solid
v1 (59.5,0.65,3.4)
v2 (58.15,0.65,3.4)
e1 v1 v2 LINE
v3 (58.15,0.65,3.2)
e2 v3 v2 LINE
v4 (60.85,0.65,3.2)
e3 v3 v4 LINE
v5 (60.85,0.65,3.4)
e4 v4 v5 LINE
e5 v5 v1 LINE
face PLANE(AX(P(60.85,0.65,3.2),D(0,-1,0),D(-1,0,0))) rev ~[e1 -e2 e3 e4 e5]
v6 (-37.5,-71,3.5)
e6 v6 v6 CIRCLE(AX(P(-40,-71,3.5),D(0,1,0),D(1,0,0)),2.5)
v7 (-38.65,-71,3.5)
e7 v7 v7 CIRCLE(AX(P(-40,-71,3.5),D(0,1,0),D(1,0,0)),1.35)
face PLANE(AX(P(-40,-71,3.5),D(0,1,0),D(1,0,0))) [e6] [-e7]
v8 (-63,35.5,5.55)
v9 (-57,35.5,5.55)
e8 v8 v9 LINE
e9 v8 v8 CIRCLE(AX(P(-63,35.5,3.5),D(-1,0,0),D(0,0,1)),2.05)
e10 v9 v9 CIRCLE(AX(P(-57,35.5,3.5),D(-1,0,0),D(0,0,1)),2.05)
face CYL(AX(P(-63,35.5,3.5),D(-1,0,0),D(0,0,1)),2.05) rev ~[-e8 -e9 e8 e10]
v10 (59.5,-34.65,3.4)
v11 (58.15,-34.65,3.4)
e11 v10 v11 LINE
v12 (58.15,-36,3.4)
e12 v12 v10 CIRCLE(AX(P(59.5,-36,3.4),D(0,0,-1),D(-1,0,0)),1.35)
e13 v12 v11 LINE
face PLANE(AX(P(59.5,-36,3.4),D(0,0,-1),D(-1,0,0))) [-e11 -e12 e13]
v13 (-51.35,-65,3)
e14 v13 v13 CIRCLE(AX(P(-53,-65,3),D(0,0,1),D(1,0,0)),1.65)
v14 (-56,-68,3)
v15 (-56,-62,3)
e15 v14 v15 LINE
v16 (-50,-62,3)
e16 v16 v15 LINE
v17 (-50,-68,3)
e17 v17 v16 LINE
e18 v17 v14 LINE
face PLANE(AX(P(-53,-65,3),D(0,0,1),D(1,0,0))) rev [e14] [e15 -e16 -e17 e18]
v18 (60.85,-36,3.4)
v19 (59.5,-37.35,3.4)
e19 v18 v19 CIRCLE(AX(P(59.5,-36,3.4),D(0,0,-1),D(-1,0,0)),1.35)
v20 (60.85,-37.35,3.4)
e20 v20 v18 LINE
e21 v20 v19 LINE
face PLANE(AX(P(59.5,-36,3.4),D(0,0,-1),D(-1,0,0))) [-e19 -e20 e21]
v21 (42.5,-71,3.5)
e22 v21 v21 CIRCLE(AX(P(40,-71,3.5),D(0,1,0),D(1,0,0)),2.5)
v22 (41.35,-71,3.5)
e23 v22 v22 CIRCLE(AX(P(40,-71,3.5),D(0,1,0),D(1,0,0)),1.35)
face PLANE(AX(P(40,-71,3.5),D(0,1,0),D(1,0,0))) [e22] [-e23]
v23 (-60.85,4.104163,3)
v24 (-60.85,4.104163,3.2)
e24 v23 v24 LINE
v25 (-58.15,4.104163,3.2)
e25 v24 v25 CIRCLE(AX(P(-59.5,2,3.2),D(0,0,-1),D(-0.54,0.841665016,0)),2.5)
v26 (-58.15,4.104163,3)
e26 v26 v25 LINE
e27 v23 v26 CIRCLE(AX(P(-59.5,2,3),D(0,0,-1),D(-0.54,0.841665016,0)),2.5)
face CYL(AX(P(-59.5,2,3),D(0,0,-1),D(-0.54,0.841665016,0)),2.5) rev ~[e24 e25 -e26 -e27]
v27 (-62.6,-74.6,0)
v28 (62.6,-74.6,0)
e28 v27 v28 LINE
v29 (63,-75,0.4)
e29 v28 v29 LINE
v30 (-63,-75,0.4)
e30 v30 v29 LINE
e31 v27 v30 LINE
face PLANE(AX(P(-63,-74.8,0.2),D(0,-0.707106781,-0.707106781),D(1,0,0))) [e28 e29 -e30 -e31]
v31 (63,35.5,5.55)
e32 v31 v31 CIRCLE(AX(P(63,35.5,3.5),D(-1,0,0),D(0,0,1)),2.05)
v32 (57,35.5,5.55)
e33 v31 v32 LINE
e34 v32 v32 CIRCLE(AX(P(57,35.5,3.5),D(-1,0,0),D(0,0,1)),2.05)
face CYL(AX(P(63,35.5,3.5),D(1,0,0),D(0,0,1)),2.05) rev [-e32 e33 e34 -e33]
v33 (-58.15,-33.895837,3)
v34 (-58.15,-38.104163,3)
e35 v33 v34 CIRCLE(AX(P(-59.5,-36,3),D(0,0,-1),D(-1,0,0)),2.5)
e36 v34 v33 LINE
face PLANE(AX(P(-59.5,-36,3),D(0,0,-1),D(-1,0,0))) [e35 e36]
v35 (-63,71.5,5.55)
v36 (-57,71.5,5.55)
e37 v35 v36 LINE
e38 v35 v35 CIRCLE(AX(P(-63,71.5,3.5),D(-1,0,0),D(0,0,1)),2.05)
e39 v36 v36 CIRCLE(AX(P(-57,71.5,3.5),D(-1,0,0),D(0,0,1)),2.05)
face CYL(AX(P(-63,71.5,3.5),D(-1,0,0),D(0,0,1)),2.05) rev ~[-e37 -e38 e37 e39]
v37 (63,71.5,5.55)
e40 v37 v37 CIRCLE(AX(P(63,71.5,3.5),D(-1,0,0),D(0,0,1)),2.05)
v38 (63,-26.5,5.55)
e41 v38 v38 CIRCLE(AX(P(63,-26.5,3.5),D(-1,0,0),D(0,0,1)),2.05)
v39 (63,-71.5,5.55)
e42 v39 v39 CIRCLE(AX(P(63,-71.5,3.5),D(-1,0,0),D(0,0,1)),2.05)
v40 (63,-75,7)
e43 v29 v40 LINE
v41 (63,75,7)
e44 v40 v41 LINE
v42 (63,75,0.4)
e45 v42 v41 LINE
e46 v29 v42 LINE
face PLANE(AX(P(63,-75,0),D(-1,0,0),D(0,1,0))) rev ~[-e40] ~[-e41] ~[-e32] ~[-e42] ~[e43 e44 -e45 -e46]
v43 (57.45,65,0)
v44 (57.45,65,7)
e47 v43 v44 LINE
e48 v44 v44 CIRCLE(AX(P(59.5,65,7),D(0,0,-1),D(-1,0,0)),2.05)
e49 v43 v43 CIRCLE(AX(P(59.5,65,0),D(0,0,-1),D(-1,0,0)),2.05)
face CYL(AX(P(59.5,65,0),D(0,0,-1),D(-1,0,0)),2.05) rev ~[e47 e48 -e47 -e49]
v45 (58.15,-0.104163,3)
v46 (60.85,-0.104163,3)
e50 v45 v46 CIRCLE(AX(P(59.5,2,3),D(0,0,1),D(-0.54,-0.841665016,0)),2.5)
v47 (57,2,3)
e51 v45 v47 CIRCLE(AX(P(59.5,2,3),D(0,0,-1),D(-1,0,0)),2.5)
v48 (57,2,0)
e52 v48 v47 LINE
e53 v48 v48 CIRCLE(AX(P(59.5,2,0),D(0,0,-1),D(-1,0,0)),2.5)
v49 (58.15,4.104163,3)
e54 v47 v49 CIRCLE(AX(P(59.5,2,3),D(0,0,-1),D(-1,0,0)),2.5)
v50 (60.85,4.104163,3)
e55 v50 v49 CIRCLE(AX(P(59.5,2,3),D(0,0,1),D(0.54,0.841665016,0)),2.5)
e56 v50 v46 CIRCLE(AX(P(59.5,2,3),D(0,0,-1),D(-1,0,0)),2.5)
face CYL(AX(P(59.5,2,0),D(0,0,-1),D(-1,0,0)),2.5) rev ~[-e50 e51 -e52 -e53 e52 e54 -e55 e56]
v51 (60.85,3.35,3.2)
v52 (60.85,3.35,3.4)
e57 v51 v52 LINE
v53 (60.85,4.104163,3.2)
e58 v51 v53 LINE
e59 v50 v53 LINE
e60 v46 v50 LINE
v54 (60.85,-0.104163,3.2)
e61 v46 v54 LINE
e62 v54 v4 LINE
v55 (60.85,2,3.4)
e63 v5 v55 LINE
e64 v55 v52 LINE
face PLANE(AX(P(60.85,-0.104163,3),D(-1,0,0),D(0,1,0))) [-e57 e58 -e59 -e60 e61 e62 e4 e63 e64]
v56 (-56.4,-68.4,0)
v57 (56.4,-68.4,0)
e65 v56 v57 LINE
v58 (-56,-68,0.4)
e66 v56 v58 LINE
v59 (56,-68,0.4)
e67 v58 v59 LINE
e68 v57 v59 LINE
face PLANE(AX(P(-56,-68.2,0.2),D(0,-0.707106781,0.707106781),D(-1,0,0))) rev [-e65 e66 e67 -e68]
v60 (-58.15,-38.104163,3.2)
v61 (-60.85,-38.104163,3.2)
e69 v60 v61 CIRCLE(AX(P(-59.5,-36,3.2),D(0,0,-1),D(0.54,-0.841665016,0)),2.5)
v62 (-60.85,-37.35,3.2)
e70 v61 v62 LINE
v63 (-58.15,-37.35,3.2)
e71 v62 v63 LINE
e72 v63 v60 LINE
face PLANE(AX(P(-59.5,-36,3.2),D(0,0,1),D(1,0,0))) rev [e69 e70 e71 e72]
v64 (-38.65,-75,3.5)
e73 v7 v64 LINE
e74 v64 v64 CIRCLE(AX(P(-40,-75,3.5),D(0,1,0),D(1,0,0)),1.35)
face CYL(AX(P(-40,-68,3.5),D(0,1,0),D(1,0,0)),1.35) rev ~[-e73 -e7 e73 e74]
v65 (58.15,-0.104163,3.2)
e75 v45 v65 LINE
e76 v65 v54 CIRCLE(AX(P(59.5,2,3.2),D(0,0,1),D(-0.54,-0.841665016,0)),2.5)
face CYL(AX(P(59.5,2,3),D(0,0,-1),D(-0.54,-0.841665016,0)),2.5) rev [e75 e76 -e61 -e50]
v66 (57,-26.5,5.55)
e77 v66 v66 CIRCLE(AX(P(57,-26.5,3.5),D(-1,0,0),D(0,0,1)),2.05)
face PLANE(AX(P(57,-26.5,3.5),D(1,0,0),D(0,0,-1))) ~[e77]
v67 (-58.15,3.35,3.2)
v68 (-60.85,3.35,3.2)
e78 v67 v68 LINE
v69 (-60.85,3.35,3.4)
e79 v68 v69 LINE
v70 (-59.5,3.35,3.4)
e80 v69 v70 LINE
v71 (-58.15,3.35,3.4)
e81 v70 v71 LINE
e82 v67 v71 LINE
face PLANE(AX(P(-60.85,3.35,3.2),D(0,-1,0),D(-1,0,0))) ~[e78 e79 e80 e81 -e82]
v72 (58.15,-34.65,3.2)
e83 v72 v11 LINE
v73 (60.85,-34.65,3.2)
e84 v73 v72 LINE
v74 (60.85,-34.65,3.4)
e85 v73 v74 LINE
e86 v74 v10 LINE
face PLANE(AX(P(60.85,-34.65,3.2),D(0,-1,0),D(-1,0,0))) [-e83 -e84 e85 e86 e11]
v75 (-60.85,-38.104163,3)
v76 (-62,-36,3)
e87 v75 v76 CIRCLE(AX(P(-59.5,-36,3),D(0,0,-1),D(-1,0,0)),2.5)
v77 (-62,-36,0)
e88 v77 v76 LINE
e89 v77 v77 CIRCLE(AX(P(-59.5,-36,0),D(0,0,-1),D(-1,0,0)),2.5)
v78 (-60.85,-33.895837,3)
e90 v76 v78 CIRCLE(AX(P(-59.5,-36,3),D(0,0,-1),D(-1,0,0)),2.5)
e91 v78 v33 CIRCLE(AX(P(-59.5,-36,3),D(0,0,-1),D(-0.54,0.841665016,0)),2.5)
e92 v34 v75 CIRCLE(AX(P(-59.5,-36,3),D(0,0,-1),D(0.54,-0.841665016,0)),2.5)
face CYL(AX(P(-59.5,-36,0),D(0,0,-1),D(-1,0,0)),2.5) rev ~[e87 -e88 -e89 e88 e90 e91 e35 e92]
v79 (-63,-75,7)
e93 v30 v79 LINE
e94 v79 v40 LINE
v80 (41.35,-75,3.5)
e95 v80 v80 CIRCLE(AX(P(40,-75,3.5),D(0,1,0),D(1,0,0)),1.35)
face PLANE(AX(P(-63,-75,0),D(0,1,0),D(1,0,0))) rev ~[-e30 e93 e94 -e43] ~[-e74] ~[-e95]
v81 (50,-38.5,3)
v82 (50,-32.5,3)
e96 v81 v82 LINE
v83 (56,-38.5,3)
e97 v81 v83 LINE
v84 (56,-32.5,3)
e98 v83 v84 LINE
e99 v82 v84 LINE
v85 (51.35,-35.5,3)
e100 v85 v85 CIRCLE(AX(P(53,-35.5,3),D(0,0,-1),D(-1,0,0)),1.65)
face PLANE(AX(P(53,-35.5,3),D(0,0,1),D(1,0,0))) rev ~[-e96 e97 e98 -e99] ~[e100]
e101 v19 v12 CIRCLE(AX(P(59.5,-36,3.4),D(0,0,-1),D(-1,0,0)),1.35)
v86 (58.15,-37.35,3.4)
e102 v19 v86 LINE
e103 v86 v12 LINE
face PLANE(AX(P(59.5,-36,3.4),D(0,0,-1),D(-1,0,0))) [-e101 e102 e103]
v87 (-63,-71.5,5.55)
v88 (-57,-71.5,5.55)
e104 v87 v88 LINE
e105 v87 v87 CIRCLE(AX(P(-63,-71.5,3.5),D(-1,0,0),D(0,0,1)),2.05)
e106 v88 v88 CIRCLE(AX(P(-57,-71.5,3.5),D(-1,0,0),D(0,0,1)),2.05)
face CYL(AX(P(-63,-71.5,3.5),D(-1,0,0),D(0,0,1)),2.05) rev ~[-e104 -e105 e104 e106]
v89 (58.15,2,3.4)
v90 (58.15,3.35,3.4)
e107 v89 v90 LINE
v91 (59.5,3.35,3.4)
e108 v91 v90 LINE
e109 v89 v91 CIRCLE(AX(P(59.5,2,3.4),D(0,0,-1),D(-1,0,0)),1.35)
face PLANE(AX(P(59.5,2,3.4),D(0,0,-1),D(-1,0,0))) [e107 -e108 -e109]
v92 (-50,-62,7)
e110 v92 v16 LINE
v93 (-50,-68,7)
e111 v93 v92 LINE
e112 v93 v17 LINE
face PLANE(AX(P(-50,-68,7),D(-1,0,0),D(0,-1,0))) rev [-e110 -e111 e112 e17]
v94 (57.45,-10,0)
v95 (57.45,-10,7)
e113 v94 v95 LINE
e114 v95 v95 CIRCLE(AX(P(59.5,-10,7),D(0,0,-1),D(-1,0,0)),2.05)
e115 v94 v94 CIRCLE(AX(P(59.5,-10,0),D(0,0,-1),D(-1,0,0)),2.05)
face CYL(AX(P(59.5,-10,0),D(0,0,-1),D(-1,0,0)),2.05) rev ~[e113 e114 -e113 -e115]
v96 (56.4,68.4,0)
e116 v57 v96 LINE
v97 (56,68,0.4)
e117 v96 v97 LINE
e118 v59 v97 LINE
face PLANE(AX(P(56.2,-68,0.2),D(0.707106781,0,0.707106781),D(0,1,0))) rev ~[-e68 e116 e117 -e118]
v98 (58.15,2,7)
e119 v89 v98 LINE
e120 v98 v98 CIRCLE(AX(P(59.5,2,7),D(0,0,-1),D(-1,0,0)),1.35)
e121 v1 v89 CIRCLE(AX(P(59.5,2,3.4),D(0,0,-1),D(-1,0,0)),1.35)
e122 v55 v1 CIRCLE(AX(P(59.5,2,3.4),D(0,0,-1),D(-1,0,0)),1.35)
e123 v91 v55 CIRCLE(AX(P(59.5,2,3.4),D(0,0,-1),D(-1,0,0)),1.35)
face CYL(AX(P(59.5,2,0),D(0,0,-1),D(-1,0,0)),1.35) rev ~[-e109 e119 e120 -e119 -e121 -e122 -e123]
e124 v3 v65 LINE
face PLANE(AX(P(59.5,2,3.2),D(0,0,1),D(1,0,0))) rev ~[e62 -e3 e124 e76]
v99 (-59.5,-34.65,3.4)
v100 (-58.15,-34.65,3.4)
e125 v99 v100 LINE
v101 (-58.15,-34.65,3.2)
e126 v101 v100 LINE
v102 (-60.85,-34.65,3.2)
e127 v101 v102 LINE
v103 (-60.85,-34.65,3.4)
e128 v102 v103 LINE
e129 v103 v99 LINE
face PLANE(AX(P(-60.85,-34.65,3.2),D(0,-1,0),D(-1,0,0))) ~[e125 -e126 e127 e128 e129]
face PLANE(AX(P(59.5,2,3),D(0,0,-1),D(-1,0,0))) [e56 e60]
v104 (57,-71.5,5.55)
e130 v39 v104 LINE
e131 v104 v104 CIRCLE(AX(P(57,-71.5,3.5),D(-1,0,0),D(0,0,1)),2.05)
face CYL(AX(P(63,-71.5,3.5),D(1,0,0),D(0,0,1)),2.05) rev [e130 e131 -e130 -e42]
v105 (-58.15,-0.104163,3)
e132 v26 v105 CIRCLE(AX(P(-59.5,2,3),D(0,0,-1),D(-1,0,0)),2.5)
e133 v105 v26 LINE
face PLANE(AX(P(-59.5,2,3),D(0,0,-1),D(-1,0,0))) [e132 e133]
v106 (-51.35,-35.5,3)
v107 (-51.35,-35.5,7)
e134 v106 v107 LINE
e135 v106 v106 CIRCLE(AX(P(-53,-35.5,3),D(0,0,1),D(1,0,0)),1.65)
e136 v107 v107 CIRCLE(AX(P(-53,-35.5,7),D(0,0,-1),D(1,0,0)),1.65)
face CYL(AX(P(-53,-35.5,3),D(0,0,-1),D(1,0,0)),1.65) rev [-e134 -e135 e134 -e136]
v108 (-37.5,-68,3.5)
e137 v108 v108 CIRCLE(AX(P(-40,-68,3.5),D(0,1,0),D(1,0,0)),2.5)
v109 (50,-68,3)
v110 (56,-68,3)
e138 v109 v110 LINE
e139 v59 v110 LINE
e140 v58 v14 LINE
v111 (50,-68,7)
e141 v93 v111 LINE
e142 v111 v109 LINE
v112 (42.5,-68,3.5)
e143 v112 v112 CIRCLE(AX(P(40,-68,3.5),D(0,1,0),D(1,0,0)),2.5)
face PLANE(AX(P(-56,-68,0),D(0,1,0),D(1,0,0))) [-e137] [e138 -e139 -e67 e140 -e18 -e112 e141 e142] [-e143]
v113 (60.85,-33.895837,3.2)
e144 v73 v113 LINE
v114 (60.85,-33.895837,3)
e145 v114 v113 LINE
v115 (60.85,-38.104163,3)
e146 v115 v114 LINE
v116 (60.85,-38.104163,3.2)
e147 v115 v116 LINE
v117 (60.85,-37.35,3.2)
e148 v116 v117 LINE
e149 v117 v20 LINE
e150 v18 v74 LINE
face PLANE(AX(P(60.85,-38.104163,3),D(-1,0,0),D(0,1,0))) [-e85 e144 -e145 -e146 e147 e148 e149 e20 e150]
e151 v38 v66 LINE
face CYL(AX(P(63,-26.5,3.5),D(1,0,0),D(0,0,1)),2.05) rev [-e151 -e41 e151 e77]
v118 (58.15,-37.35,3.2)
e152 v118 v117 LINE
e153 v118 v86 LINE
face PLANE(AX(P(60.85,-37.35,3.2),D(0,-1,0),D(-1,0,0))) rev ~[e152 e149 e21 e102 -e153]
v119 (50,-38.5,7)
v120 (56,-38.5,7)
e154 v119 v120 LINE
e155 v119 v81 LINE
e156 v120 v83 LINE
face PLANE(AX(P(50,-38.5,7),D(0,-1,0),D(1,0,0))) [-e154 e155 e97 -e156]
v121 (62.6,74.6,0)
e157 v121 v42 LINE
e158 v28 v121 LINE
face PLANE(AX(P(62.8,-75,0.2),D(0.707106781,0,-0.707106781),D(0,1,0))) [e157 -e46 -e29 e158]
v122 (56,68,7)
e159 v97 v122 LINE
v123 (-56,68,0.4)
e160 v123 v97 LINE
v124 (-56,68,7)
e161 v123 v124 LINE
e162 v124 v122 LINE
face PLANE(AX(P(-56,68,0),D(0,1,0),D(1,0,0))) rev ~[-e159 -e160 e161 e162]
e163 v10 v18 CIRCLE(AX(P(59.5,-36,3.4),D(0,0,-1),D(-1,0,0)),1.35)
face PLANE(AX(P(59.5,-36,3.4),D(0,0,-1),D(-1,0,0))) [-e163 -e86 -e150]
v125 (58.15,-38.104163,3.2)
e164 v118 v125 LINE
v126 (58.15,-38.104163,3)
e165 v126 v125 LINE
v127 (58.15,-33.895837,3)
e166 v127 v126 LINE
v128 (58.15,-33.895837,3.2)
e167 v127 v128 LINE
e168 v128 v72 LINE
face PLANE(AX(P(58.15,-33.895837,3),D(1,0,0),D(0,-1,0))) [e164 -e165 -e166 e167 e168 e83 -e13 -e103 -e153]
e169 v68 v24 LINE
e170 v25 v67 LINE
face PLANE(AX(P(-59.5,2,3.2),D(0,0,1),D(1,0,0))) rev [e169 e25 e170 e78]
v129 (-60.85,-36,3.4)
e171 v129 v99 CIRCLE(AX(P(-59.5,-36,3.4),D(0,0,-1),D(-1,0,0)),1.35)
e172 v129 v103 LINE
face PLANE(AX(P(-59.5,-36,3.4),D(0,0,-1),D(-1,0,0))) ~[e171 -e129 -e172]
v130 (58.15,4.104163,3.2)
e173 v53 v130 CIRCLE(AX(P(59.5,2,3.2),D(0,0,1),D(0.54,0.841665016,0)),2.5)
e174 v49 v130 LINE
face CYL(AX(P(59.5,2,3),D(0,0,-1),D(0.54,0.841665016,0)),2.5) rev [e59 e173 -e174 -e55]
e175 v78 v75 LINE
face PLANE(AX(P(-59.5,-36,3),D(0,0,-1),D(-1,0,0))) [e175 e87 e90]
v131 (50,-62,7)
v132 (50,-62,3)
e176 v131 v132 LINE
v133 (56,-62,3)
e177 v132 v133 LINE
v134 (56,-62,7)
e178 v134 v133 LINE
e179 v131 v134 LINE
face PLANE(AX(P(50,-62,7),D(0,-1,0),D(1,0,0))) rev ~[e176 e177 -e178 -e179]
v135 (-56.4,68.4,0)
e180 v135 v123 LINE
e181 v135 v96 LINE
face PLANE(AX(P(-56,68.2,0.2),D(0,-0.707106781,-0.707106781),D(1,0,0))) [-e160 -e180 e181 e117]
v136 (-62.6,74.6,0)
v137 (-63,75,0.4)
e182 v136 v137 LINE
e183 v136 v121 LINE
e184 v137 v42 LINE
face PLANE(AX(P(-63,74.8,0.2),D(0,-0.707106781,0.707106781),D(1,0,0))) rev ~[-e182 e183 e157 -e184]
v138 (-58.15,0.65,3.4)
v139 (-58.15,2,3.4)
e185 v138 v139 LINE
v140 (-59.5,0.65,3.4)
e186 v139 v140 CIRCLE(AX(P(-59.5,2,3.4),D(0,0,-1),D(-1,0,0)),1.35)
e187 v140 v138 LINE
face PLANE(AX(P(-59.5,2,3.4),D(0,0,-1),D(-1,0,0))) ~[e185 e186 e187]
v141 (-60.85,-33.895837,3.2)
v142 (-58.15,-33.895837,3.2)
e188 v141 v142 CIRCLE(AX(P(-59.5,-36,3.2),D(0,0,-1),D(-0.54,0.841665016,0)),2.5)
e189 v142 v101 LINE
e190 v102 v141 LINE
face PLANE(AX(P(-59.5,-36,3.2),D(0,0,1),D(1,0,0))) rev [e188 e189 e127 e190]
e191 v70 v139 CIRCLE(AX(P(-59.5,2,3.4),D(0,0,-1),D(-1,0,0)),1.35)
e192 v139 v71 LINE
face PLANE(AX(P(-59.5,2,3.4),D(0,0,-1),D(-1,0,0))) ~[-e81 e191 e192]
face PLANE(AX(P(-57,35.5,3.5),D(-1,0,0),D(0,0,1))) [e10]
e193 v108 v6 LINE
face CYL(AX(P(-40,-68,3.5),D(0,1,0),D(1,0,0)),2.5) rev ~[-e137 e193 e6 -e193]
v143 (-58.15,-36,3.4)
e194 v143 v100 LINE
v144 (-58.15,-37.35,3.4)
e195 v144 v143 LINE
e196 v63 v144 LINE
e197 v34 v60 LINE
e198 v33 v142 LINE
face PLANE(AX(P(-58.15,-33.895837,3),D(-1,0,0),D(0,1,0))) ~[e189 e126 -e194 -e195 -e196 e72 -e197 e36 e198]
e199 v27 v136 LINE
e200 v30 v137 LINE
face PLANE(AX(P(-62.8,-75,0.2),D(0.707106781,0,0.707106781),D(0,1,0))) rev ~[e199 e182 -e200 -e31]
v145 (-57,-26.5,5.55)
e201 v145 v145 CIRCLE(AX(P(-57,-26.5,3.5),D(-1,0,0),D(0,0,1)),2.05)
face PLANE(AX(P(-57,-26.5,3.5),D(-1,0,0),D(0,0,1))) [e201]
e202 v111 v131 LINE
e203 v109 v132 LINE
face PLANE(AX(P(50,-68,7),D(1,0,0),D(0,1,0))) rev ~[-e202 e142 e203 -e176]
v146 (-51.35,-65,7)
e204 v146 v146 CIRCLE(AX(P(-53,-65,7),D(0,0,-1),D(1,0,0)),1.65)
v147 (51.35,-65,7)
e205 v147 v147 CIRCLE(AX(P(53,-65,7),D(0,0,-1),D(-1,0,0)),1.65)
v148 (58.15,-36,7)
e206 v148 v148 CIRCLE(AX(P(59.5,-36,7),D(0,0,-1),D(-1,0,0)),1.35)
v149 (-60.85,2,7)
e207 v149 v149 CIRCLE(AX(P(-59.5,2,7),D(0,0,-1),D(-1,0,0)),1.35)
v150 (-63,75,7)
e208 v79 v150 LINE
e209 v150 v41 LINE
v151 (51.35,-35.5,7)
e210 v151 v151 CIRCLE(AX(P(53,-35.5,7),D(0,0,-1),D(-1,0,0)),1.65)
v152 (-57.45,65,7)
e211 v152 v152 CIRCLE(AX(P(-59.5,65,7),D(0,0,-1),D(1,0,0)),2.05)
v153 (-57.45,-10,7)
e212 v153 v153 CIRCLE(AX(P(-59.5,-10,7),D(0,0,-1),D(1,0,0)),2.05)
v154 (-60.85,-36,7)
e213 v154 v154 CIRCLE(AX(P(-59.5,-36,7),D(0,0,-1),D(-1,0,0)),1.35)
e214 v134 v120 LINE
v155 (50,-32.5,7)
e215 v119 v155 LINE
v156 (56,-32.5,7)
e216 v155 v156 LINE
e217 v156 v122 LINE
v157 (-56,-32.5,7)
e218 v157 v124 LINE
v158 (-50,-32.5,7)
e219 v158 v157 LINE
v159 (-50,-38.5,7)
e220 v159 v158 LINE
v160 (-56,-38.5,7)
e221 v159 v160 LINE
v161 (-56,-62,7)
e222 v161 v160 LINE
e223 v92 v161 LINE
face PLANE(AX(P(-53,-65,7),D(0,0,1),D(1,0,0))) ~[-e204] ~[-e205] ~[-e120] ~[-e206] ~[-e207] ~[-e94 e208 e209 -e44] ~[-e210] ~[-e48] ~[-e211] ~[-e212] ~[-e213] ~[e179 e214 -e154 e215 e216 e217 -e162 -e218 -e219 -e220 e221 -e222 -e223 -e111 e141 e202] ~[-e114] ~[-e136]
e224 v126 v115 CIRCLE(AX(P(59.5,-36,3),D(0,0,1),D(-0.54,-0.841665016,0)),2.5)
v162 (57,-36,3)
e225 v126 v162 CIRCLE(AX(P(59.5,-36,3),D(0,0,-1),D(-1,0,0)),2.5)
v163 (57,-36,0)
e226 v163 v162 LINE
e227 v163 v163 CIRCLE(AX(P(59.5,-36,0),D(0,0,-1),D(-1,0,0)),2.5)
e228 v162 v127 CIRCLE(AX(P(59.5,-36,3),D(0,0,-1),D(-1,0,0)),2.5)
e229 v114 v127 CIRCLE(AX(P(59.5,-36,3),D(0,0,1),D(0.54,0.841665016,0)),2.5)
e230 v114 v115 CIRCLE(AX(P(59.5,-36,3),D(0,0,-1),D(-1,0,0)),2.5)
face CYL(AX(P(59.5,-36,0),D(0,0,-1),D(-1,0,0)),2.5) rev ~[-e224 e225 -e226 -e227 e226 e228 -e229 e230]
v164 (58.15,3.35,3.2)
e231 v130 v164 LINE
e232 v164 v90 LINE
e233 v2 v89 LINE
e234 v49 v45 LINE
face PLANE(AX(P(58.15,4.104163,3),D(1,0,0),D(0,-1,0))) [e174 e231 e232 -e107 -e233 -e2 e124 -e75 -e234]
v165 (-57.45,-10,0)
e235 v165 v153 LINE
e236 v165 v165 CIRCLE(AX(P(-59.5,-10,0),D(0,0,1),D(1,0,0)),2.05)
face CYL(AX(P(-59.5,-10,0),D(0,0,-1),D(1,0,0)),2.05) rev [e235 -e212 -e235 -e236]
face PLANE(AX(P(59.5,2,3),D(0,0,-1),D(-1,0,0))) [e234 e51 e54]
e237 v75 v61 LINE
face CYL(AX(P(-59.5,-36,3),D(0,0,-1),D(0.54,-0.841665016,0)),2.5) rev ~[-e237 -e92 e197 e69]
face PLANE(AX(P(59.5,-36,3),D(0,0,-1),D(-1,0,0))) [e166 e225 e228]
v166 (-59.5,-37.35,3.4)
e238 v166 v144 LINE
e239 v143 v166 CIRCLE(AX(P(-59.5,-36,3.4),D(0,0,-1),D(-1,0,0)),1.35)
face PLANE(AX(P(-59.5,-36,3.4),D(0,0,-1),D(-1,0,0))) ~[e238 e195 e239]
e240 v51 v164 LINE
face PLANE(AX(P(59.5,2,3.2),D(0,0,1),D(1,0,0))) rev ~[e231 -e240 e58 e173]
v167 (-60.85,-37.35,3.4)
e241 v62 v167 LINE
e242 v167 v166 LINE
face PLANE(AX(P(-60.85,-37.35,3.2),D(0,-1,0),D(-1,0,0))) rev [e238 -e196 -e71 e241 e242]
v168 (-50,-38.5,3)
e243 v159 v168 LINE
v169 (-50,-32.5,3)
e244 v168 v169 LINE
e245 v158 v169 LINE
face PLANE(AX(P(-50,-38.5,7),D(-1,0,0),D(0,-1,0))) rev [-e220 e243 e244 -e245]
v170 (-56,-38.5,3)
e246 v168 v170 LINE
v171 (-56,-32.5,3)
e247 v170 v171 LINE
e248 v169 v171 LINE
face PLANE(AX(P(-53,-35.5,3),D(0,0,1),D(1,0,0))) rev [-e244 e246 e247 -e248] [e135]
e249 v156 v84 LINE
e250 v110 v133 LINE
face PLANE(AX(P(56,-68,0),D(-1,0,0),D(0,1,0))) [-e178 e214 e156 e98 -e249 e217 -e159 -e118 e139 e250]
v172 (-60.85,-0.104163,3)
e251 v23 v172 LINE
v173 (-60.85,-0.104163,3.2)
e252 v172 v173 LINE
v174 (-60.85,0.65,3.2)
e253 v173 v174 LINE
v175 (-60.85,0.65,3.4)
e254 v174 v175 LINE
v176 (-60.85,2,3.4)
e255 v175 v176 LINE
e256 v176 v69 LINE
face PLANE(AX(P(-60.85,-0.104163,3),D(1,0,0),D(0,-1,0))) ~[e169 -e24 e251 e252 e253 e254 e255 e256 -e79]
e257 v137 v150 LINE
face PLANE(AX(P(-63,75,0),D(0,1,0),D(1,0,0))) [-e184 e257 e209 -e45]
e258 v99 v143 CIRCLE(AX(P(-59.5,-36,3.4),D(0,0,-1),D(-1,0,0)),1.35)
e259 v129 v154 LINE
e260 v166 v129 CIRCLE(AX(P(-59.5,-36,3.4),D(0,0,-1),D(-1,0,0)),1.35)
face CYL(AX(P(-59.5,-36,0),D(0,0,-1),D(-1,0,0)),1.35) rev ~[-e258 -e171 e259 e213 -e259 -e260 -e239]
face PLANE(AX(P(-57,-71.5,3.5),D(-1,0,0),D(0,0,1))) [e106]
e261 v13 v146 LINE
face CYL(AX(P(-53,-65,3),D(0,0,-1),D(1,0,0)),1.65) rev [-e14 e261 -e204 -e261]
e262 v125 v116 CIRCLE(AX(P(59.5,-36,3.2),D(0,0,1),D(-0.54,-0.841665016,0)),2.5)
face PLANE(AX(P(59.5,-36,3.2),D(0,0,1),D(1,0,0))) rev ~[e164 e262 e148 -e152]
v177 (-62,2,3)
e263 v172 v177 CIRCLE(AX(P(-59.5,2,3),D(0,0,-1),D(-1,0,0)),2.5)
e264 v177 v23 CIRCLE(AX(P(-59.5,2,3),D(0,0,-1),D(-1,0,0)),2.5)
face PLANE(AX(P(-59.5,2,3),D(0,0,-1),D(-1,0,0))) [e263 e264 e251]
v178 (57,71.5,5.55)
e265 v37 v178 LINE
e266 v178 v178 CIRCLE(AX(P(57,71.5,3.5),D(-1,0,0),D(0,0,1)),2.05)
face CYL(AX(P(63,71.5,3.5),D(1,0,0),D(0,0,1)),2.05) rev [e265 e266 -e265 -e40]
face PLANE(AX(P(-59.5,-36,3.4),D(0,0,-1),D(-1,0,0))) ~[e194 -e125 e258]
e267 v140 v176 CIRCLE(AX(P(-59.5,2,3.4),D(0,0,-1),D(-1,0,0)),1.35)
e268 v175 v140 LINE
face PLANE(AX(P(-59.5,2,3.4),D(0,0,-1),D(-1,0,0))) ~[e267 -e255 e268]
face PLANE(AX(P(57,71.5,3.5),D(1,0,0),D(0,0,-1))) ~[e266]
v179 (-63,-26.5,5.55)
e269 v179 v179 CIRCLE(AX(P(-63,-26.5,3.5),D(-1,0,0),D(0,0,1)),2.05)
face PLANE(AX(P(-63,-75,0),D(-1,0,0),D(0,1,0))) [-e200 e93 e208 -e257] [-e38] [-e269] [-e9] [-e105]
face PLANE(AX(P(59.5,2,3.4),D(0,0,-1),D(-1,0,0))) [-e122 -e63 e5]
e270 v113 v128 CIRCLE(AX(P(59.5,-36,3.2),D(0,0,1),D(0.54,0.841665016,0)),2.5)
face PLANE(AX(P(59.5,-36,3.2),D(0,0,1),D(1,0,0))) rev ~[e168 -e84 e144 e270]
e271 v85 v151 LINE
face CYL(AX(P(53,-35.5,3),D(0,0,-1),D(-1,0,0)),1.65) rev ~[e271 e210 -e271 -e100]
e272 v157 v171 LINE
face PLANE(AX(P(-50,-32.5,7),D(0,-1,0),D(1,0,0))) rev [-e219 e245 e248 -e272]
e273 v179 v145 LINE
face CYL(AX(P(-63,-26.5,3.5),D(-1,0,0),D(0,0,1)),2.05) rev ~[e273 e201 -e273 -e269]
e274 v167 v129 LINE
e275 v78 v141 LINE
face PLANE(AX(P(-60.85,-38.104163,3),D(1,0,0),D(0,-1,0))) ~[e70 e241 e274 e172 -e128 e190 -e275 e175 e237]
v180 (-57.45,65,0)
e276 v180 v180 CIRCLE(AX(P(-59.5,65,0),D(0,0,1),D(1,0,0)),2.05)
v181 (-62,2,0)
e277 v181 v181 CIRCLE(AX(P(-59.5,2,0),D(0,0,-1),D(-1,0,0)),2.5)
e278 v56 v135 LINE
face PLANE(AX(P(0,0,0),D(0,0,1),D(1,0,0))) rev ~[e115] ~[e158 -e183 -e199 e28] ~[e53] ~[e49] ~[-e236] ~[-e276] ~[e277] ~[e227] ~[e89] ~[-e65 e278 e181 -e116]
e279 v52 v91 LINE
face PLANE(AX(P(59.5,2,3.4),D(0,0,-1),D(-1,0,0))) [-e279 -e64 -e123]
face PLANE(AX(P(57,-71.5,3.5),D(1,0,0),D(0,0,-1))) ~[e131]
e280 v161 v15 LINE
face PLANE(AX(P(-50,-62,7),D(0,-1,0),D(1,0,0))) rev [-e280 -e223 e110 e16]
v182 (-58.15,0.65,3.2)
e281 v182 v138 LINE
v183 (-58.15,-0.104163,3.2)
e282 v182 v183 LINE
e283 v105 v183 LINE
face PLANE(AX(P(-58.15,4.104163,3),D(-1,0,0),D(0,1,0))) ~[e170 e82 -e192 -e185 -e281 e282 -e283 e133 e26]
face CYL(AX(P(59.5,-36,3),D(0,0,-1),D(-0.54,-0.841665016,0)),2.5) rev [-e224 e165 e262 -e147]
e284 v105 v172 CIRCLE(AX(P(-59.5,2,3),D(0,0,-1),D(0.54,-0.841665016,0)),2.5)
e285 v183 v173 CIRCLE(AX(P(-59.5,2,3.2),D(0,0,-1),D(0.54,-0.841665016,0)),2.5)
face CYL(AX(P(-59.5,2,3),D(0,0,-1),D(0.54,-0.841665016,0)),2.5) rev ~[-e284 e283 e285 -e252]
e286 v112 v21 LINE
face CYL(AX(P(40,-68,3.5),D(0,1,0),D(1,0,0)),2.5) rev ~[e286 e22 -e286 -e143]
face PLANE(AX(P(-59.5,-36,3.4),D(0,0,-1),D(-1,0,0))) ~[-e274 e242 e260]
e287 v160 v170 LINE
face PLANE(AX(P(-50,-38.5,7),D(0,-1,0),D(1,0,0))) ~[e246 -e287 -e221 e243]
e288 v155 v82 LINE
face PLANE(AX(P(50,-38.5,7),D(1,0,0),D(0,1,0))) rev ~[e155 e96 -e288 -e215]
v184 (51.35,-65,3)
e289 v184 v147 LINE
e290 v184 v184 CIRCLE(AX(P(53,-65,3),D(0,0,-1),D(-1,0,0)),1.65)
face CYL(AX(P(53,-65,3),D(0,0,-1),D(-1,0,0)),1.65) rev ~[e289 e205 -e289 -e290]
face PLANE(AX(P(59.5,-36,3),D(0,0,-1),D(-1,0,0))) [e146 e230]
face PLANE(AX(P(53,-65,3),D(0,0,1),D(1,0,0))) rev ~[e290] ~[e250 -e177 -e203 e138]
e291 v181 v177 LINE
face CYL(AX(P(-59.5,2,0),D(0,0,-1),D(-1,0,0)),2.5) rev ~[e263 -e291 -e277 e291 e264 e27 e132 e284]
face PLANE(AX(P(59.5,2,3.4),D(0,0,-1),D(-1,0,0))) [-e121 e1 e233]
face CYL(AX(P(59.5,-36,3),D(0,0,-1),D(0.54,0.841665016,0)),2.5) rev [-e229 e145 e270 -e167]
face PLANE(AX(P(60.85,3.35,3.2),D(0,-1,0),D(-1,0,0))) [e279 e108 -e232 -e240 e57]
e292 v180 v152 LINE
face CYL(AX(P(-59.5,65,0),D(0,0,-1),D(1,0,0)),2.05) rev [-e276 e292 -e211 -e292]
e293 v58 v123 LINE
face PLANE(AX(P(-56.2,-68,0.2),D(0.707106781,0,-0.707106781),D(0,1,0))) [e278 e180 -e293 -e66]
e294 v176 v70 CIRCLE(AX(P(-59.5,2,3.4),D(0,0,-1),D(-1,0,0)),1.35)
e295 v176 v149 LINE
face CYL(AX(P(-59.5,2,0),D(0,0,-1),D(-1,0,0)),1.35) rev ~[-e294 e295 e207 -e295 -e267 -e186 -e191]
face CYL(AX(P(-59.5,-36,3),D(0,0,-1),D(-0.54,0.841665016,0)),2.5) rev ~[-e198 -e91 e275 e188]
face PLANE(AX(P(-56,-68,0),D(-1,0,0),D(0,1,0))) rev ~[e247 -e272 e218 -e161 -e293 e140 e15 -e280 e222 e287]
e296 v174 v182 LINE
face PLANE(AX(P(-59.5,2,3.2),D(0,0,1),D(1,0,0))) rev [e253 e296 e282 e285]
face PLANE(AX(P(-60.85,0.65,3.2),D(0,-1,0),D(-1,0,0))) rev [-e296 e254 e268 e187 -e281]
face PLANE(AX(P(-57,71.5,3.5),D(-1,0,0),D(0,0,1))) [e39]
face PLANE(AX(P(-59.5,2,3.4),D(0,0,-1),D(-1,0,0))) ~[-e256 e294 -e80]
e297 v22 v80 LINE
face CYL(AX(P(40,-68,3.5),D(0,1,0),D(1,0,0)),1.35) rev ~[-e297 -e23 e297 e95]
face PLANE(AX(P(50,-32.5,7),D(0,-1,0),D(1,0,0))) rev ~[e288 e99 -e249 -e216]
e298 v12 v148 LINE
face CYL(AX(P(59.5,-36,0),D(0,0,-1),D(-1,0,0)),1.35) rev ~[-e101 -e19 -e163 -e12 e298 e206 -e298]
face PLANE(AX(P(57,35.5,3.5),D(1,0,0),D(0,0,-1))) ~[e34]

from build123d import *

# Parameters (mm, degrees)
SKETCH1_W           = 126
SKETCH1_H           = 150
SKETCH1_W_2         = 112
SKETCH1_H_2         = 136
BOSS_EXTRUDE1_DEPTH = 7
SKETCH2_R           = 2.05
CUT_EXTRUDE1_DEPTH  = 6
SKETCH3_R           = 1.35
CUT_EXTRUDE2_DEPTH  = 8
SKETCH4_R           = 2.5
CUT_EXTRUDE3_DEPTH  = 3
SKETCH5_R           = 1.35
CUT_EXTRUDE4_DEPTH  = 8
SKETCH6_R           = 2.5
CUT_EXTRUDE5_DEPTH  = 3
SKETCH7_R           = 2.05
CUT_EXTRUDE6_DEPTH  = 8
CUT_EXTRUDE7_DEPTH  = 0.2
SKETCH9_W           = 2.7
SKETCH9_H           = 2.7
CUT_EXTRUDE8_DEPTH  = 0.2
SKETCH10_W          = 6
SKETCH10_H          = 6
BOSS_EXTRUDE2_DEPTH = 4
SKETCH11_R          = 1.65
CUT_EXTRUDE9_DEPTH  = 5
CHAMFER1_SIZE       = 0.4
CHAMFER2_SIZE       = 0.4


with BuildPart() as part:
    # Sketch1 → Boss-Extrude1 (new body)
    with BuildSketch(Plane.XY):
        Rectangle(SKETCH1_W, SKETCH1_H)
        Rectangle(SKETCH1_W_2, SKETCH1_H_2, mode=Mode.SUBTRACT)
    extrude(amount=BOSS_EXTRUDE1_DEPTH)

    # Sketch2 → Cut-Extrude1 (cut)
    with BuildSketch(Plane.ZY.offset(63)):
        with Locations((3.5, -71.5)):
            Circle(SKETCH2_R)
        with Locations((3.5, 71.5)):
            Circle(SKETCH2_R)
        with Locations((3.5, 35.5)):
            Circle(SKETCH2_R)
        with Locations((3.5, -26.5)):
            Circle(SKETCH2_R)
    cut_extrude1 = extrude(amount=-CUT_EXTRUDE1_DEPTH, mode=Mode.SUBTRACT)

    # Mirror1: Cut-Extrude1 across plane
    add(cut_extrude1.mirror(Plane(origin=(0, 0, 0), x_dir=(0, 0, 1), z_dir=(1, 0, 0))), mode=Mode.SUBTRACT)

    # Sketch3 → Cut-Extrude2 (cut, through all)
    with BuildSketch(Plane(origin=(0, -68, 0), x_dir=(1, 0, 0), z_dir=(0, 1, 0))):
        with Locations((40, -3.5)):
            Circle(SKETCH3_R)
        with Locations((-40, -3.5)):
            Circle(SKETCH3_R)
    extrude(amount=-CUT_EXTRUDE2_DEPTH, mode=Mode.SUBTRACT)

    # Sketch4 → Cut-Extrude3 (cut)
    with BuildSketch(Plane(origin=(0, -68, 0), x_dir=(1, 0, 0), z_dir=(0, 1, 0))):
        with Locations((40, -3.5)):
            Circle(SKETCH4_R)
        with Locations((-40, -3.5)):
            Circle(SKETCH4_R)
    extrude(amount=-CUT_EXTRUDE3_DEPTH, mode=Mode.SUBTRACT)

    # Sketch5 → Cut-Extrude4 (cut, through all)
    with BuildSketch(Plane(origin=(0, 0, 0), x_dir=(-1, 0, 0), z_dir=(0, 0, -1))):
        with Locations((-59.5, 2)):
            Circle(SKETCH5_R)
        with Locations((59.5, 2)):
            Circle(SKETCH5_R)
        with Locations((-59.5, -36)):
            Circle(SKETCH5_R)
        with Locations((59.5, -36)):
            Circle(SKETCH5_R)
    extrude(amount=-CUT_EXTRUDE4_DEPTH, mode=Mode.SUBTRACT)

    # Sketch6 → Cut-Extrude5 (cut)
    with BuildSketch(Plane(origin=(0, 0, 0), x_dir=(-1, 0, 0), z_dir=(0, 0, -1))):
        with Locations((-59.5, 2)):
            Circle(SKETCH6_R)
        with Locations((59.5, 2)):
            Circle(SKETCH6_R)
        with Locations((-59.5, -36)):
            Circle(SKETCH6_R)
        with Locations((59.5, -36)):
            Circle(SKETCH6_R)
    extrude(amount=-CUT_EXTRUDE5_DEPTH, mode=Mode.SUBTRACT)

    # Sketch7 → Cut-Extrude6 (cut, through all)
    with BuildSketch(Plane(origin=(0, 0, 0), x_dir=(-1, 0, 0), z_dir=(0, 0, -1))):
        with Locations((-59.5, 65)):
            Circle(SKETCH7_R)
        with Locations((-59.5, -10)):
            Circle(SKETCH7_R)
    cut_extrude6 = extrude(amount=-CUT_EXTRUDE6_DEPTH, mode=Mode.SUBTRACT)

    # Mirror2: Cut-Extrude6 across plane
    add(cut_extrude6.mirror(Plane(origin=(0, 0, 0), x_dir=(0, 0, 1), z_dir=(1, 0, 0))), mode=Mode.SUBTRACT)

    # Sketch8 → Cut-Extrude7 (cut)
    with BuildSketch(Plane(origin=(0, 0, 3), x_dir=(-1, 0, 0), z_dir=(0, 0, -1))):
        with BuildLine():
            Line((-60.85, -0.104162541), (-60.85, 4.104162541))
            ThreePointArc((-60.85, 4.104162541), (-59.5, 4.5), (-58.15, 4.104162541))
            Line((-58.15, 4.104162541), (-58.15, -0.104162541))
            ThreePointArc((-58.15, -0.104162541), (-59.5, -0.5), (-60.85, -0.104162541))
        make_face()
        with BuildLine():
            Line((-60.85, -38.104162541), (-60.85, -33.895837459))
            ThreePointArc((-60.85, -33.895837459), (-59.5, -33.5), (-58.15, -33.895837459))
            Line((-58.15, -33.895837459), (-58.15, -38.104162541))
            ThreePointArc((-58.15, -38.104162541), (-59.5, -38.5), (-60.85, -38.104162541))
        make_face()
    cut_extrude7 = extrude(amount=-CUT_EXTRUDE7_DEPTH, mode=Mode.SUBTRACT)

    # Sketch9 → Cut-Extrude8 (cut)
    with BuildSketch(Plane(origin=(0, 0, 3.2), x_dir=(-1, 0, 0), z_dir=(0, 0, -1))):
        with Locations((-59.5, 2)):
            Rectangle(SKETCH9_W, SKETCH9_H)
        with Locations((-59.5, -36)):
            Rectangle(SKETCH9_W, SKETCH9_H)
    cut_extrude8 = extrude(amount=-CUT_EXTRUDE8_DEPTH, mode=Mode.SUBTRACT)

    # Mirror3: Cut-Extrude7, Cut-Extrude8 across plane
    add(cut_extrude7.mirror(Plane(origin=(0, 0, 0), x_dir=(0, 0, 1), z_dir=(1, 0, 0))), mode=Mode.SUBTRACT)
    add(cut_extrude8.mirror(Plane(origin=(0, 0, 0), x_dir=(0, 0, 1), z_dir=(1, 0, 0))), mode=Mode.SUBTRACT)

    # Sketch10 → Boss-Extrude2 (add)
    with BuildSketch(Plane.XY.offset(7)):
        with Locations((53, -65)):
            Rectangle(SKETCH10_W, SKETCH10_H)
        with Locations((53, -35.5)):
            Rectangle(SKETCH10_W, SKETCH10_H)
    boss_extrude2 = extrude(amount=-BOSS_EXTRUDE2_DEPTH)

    # Sketch11 → Cut-Extrude9 (cut, through all)
    with BuildSketch(Plane(origin=(0, 0, 3), x_dir=(-1, 0, 0), z_dir=(0, 0, -1))):
        with Locations((-53, -35.5)):
            Circle(SKETCH11_R)
        with Locations((-53, -65)):
            Circle(SKETCH11_R)
    cut_extrude9 = extrude(amount=-CUT_EXTRUDE9_DEPTH, mode=Mode.SUBTRACT)

    # Mirror4: Boss-Extrude2, Cut-Extrude9 across plane
    add(boss_extrude2.mirror(Plane(origin=(0, 0, 0), x_dir=(0, 0, 1), z_dir=(1, 0, 0))))
    add(cut_extrude9.mirror(Plane(origin=(0, 0, 0), x_dir=(0, 0, 1), z_dir=(1, 0, 0))), mode=Mode.SUBTRACT)

    # Chamfer1
    chamfer1_edges = [part.edges().sort_by_distance(p)[0] for p in [
        (56, 0, 0),
        (0, 68, 0),
        (-56, 0, 0),
        (0, -68, 0),
    ]]
    chamfer(chamfer1_edges, length=CHAMFER1_SIZE)

    # Chamfer2
    chamfer2_edges = [part.edges().sort_by_distance(p)[0] for p in [
        (0, -75, 0),
        (-63, 0, 0),
        (0, 75, 0),
        (63, 0, 0),
    ]]
    chamfer(chamfer2_edges, length=CHAMFER2_SIZE)


solid = part.part
